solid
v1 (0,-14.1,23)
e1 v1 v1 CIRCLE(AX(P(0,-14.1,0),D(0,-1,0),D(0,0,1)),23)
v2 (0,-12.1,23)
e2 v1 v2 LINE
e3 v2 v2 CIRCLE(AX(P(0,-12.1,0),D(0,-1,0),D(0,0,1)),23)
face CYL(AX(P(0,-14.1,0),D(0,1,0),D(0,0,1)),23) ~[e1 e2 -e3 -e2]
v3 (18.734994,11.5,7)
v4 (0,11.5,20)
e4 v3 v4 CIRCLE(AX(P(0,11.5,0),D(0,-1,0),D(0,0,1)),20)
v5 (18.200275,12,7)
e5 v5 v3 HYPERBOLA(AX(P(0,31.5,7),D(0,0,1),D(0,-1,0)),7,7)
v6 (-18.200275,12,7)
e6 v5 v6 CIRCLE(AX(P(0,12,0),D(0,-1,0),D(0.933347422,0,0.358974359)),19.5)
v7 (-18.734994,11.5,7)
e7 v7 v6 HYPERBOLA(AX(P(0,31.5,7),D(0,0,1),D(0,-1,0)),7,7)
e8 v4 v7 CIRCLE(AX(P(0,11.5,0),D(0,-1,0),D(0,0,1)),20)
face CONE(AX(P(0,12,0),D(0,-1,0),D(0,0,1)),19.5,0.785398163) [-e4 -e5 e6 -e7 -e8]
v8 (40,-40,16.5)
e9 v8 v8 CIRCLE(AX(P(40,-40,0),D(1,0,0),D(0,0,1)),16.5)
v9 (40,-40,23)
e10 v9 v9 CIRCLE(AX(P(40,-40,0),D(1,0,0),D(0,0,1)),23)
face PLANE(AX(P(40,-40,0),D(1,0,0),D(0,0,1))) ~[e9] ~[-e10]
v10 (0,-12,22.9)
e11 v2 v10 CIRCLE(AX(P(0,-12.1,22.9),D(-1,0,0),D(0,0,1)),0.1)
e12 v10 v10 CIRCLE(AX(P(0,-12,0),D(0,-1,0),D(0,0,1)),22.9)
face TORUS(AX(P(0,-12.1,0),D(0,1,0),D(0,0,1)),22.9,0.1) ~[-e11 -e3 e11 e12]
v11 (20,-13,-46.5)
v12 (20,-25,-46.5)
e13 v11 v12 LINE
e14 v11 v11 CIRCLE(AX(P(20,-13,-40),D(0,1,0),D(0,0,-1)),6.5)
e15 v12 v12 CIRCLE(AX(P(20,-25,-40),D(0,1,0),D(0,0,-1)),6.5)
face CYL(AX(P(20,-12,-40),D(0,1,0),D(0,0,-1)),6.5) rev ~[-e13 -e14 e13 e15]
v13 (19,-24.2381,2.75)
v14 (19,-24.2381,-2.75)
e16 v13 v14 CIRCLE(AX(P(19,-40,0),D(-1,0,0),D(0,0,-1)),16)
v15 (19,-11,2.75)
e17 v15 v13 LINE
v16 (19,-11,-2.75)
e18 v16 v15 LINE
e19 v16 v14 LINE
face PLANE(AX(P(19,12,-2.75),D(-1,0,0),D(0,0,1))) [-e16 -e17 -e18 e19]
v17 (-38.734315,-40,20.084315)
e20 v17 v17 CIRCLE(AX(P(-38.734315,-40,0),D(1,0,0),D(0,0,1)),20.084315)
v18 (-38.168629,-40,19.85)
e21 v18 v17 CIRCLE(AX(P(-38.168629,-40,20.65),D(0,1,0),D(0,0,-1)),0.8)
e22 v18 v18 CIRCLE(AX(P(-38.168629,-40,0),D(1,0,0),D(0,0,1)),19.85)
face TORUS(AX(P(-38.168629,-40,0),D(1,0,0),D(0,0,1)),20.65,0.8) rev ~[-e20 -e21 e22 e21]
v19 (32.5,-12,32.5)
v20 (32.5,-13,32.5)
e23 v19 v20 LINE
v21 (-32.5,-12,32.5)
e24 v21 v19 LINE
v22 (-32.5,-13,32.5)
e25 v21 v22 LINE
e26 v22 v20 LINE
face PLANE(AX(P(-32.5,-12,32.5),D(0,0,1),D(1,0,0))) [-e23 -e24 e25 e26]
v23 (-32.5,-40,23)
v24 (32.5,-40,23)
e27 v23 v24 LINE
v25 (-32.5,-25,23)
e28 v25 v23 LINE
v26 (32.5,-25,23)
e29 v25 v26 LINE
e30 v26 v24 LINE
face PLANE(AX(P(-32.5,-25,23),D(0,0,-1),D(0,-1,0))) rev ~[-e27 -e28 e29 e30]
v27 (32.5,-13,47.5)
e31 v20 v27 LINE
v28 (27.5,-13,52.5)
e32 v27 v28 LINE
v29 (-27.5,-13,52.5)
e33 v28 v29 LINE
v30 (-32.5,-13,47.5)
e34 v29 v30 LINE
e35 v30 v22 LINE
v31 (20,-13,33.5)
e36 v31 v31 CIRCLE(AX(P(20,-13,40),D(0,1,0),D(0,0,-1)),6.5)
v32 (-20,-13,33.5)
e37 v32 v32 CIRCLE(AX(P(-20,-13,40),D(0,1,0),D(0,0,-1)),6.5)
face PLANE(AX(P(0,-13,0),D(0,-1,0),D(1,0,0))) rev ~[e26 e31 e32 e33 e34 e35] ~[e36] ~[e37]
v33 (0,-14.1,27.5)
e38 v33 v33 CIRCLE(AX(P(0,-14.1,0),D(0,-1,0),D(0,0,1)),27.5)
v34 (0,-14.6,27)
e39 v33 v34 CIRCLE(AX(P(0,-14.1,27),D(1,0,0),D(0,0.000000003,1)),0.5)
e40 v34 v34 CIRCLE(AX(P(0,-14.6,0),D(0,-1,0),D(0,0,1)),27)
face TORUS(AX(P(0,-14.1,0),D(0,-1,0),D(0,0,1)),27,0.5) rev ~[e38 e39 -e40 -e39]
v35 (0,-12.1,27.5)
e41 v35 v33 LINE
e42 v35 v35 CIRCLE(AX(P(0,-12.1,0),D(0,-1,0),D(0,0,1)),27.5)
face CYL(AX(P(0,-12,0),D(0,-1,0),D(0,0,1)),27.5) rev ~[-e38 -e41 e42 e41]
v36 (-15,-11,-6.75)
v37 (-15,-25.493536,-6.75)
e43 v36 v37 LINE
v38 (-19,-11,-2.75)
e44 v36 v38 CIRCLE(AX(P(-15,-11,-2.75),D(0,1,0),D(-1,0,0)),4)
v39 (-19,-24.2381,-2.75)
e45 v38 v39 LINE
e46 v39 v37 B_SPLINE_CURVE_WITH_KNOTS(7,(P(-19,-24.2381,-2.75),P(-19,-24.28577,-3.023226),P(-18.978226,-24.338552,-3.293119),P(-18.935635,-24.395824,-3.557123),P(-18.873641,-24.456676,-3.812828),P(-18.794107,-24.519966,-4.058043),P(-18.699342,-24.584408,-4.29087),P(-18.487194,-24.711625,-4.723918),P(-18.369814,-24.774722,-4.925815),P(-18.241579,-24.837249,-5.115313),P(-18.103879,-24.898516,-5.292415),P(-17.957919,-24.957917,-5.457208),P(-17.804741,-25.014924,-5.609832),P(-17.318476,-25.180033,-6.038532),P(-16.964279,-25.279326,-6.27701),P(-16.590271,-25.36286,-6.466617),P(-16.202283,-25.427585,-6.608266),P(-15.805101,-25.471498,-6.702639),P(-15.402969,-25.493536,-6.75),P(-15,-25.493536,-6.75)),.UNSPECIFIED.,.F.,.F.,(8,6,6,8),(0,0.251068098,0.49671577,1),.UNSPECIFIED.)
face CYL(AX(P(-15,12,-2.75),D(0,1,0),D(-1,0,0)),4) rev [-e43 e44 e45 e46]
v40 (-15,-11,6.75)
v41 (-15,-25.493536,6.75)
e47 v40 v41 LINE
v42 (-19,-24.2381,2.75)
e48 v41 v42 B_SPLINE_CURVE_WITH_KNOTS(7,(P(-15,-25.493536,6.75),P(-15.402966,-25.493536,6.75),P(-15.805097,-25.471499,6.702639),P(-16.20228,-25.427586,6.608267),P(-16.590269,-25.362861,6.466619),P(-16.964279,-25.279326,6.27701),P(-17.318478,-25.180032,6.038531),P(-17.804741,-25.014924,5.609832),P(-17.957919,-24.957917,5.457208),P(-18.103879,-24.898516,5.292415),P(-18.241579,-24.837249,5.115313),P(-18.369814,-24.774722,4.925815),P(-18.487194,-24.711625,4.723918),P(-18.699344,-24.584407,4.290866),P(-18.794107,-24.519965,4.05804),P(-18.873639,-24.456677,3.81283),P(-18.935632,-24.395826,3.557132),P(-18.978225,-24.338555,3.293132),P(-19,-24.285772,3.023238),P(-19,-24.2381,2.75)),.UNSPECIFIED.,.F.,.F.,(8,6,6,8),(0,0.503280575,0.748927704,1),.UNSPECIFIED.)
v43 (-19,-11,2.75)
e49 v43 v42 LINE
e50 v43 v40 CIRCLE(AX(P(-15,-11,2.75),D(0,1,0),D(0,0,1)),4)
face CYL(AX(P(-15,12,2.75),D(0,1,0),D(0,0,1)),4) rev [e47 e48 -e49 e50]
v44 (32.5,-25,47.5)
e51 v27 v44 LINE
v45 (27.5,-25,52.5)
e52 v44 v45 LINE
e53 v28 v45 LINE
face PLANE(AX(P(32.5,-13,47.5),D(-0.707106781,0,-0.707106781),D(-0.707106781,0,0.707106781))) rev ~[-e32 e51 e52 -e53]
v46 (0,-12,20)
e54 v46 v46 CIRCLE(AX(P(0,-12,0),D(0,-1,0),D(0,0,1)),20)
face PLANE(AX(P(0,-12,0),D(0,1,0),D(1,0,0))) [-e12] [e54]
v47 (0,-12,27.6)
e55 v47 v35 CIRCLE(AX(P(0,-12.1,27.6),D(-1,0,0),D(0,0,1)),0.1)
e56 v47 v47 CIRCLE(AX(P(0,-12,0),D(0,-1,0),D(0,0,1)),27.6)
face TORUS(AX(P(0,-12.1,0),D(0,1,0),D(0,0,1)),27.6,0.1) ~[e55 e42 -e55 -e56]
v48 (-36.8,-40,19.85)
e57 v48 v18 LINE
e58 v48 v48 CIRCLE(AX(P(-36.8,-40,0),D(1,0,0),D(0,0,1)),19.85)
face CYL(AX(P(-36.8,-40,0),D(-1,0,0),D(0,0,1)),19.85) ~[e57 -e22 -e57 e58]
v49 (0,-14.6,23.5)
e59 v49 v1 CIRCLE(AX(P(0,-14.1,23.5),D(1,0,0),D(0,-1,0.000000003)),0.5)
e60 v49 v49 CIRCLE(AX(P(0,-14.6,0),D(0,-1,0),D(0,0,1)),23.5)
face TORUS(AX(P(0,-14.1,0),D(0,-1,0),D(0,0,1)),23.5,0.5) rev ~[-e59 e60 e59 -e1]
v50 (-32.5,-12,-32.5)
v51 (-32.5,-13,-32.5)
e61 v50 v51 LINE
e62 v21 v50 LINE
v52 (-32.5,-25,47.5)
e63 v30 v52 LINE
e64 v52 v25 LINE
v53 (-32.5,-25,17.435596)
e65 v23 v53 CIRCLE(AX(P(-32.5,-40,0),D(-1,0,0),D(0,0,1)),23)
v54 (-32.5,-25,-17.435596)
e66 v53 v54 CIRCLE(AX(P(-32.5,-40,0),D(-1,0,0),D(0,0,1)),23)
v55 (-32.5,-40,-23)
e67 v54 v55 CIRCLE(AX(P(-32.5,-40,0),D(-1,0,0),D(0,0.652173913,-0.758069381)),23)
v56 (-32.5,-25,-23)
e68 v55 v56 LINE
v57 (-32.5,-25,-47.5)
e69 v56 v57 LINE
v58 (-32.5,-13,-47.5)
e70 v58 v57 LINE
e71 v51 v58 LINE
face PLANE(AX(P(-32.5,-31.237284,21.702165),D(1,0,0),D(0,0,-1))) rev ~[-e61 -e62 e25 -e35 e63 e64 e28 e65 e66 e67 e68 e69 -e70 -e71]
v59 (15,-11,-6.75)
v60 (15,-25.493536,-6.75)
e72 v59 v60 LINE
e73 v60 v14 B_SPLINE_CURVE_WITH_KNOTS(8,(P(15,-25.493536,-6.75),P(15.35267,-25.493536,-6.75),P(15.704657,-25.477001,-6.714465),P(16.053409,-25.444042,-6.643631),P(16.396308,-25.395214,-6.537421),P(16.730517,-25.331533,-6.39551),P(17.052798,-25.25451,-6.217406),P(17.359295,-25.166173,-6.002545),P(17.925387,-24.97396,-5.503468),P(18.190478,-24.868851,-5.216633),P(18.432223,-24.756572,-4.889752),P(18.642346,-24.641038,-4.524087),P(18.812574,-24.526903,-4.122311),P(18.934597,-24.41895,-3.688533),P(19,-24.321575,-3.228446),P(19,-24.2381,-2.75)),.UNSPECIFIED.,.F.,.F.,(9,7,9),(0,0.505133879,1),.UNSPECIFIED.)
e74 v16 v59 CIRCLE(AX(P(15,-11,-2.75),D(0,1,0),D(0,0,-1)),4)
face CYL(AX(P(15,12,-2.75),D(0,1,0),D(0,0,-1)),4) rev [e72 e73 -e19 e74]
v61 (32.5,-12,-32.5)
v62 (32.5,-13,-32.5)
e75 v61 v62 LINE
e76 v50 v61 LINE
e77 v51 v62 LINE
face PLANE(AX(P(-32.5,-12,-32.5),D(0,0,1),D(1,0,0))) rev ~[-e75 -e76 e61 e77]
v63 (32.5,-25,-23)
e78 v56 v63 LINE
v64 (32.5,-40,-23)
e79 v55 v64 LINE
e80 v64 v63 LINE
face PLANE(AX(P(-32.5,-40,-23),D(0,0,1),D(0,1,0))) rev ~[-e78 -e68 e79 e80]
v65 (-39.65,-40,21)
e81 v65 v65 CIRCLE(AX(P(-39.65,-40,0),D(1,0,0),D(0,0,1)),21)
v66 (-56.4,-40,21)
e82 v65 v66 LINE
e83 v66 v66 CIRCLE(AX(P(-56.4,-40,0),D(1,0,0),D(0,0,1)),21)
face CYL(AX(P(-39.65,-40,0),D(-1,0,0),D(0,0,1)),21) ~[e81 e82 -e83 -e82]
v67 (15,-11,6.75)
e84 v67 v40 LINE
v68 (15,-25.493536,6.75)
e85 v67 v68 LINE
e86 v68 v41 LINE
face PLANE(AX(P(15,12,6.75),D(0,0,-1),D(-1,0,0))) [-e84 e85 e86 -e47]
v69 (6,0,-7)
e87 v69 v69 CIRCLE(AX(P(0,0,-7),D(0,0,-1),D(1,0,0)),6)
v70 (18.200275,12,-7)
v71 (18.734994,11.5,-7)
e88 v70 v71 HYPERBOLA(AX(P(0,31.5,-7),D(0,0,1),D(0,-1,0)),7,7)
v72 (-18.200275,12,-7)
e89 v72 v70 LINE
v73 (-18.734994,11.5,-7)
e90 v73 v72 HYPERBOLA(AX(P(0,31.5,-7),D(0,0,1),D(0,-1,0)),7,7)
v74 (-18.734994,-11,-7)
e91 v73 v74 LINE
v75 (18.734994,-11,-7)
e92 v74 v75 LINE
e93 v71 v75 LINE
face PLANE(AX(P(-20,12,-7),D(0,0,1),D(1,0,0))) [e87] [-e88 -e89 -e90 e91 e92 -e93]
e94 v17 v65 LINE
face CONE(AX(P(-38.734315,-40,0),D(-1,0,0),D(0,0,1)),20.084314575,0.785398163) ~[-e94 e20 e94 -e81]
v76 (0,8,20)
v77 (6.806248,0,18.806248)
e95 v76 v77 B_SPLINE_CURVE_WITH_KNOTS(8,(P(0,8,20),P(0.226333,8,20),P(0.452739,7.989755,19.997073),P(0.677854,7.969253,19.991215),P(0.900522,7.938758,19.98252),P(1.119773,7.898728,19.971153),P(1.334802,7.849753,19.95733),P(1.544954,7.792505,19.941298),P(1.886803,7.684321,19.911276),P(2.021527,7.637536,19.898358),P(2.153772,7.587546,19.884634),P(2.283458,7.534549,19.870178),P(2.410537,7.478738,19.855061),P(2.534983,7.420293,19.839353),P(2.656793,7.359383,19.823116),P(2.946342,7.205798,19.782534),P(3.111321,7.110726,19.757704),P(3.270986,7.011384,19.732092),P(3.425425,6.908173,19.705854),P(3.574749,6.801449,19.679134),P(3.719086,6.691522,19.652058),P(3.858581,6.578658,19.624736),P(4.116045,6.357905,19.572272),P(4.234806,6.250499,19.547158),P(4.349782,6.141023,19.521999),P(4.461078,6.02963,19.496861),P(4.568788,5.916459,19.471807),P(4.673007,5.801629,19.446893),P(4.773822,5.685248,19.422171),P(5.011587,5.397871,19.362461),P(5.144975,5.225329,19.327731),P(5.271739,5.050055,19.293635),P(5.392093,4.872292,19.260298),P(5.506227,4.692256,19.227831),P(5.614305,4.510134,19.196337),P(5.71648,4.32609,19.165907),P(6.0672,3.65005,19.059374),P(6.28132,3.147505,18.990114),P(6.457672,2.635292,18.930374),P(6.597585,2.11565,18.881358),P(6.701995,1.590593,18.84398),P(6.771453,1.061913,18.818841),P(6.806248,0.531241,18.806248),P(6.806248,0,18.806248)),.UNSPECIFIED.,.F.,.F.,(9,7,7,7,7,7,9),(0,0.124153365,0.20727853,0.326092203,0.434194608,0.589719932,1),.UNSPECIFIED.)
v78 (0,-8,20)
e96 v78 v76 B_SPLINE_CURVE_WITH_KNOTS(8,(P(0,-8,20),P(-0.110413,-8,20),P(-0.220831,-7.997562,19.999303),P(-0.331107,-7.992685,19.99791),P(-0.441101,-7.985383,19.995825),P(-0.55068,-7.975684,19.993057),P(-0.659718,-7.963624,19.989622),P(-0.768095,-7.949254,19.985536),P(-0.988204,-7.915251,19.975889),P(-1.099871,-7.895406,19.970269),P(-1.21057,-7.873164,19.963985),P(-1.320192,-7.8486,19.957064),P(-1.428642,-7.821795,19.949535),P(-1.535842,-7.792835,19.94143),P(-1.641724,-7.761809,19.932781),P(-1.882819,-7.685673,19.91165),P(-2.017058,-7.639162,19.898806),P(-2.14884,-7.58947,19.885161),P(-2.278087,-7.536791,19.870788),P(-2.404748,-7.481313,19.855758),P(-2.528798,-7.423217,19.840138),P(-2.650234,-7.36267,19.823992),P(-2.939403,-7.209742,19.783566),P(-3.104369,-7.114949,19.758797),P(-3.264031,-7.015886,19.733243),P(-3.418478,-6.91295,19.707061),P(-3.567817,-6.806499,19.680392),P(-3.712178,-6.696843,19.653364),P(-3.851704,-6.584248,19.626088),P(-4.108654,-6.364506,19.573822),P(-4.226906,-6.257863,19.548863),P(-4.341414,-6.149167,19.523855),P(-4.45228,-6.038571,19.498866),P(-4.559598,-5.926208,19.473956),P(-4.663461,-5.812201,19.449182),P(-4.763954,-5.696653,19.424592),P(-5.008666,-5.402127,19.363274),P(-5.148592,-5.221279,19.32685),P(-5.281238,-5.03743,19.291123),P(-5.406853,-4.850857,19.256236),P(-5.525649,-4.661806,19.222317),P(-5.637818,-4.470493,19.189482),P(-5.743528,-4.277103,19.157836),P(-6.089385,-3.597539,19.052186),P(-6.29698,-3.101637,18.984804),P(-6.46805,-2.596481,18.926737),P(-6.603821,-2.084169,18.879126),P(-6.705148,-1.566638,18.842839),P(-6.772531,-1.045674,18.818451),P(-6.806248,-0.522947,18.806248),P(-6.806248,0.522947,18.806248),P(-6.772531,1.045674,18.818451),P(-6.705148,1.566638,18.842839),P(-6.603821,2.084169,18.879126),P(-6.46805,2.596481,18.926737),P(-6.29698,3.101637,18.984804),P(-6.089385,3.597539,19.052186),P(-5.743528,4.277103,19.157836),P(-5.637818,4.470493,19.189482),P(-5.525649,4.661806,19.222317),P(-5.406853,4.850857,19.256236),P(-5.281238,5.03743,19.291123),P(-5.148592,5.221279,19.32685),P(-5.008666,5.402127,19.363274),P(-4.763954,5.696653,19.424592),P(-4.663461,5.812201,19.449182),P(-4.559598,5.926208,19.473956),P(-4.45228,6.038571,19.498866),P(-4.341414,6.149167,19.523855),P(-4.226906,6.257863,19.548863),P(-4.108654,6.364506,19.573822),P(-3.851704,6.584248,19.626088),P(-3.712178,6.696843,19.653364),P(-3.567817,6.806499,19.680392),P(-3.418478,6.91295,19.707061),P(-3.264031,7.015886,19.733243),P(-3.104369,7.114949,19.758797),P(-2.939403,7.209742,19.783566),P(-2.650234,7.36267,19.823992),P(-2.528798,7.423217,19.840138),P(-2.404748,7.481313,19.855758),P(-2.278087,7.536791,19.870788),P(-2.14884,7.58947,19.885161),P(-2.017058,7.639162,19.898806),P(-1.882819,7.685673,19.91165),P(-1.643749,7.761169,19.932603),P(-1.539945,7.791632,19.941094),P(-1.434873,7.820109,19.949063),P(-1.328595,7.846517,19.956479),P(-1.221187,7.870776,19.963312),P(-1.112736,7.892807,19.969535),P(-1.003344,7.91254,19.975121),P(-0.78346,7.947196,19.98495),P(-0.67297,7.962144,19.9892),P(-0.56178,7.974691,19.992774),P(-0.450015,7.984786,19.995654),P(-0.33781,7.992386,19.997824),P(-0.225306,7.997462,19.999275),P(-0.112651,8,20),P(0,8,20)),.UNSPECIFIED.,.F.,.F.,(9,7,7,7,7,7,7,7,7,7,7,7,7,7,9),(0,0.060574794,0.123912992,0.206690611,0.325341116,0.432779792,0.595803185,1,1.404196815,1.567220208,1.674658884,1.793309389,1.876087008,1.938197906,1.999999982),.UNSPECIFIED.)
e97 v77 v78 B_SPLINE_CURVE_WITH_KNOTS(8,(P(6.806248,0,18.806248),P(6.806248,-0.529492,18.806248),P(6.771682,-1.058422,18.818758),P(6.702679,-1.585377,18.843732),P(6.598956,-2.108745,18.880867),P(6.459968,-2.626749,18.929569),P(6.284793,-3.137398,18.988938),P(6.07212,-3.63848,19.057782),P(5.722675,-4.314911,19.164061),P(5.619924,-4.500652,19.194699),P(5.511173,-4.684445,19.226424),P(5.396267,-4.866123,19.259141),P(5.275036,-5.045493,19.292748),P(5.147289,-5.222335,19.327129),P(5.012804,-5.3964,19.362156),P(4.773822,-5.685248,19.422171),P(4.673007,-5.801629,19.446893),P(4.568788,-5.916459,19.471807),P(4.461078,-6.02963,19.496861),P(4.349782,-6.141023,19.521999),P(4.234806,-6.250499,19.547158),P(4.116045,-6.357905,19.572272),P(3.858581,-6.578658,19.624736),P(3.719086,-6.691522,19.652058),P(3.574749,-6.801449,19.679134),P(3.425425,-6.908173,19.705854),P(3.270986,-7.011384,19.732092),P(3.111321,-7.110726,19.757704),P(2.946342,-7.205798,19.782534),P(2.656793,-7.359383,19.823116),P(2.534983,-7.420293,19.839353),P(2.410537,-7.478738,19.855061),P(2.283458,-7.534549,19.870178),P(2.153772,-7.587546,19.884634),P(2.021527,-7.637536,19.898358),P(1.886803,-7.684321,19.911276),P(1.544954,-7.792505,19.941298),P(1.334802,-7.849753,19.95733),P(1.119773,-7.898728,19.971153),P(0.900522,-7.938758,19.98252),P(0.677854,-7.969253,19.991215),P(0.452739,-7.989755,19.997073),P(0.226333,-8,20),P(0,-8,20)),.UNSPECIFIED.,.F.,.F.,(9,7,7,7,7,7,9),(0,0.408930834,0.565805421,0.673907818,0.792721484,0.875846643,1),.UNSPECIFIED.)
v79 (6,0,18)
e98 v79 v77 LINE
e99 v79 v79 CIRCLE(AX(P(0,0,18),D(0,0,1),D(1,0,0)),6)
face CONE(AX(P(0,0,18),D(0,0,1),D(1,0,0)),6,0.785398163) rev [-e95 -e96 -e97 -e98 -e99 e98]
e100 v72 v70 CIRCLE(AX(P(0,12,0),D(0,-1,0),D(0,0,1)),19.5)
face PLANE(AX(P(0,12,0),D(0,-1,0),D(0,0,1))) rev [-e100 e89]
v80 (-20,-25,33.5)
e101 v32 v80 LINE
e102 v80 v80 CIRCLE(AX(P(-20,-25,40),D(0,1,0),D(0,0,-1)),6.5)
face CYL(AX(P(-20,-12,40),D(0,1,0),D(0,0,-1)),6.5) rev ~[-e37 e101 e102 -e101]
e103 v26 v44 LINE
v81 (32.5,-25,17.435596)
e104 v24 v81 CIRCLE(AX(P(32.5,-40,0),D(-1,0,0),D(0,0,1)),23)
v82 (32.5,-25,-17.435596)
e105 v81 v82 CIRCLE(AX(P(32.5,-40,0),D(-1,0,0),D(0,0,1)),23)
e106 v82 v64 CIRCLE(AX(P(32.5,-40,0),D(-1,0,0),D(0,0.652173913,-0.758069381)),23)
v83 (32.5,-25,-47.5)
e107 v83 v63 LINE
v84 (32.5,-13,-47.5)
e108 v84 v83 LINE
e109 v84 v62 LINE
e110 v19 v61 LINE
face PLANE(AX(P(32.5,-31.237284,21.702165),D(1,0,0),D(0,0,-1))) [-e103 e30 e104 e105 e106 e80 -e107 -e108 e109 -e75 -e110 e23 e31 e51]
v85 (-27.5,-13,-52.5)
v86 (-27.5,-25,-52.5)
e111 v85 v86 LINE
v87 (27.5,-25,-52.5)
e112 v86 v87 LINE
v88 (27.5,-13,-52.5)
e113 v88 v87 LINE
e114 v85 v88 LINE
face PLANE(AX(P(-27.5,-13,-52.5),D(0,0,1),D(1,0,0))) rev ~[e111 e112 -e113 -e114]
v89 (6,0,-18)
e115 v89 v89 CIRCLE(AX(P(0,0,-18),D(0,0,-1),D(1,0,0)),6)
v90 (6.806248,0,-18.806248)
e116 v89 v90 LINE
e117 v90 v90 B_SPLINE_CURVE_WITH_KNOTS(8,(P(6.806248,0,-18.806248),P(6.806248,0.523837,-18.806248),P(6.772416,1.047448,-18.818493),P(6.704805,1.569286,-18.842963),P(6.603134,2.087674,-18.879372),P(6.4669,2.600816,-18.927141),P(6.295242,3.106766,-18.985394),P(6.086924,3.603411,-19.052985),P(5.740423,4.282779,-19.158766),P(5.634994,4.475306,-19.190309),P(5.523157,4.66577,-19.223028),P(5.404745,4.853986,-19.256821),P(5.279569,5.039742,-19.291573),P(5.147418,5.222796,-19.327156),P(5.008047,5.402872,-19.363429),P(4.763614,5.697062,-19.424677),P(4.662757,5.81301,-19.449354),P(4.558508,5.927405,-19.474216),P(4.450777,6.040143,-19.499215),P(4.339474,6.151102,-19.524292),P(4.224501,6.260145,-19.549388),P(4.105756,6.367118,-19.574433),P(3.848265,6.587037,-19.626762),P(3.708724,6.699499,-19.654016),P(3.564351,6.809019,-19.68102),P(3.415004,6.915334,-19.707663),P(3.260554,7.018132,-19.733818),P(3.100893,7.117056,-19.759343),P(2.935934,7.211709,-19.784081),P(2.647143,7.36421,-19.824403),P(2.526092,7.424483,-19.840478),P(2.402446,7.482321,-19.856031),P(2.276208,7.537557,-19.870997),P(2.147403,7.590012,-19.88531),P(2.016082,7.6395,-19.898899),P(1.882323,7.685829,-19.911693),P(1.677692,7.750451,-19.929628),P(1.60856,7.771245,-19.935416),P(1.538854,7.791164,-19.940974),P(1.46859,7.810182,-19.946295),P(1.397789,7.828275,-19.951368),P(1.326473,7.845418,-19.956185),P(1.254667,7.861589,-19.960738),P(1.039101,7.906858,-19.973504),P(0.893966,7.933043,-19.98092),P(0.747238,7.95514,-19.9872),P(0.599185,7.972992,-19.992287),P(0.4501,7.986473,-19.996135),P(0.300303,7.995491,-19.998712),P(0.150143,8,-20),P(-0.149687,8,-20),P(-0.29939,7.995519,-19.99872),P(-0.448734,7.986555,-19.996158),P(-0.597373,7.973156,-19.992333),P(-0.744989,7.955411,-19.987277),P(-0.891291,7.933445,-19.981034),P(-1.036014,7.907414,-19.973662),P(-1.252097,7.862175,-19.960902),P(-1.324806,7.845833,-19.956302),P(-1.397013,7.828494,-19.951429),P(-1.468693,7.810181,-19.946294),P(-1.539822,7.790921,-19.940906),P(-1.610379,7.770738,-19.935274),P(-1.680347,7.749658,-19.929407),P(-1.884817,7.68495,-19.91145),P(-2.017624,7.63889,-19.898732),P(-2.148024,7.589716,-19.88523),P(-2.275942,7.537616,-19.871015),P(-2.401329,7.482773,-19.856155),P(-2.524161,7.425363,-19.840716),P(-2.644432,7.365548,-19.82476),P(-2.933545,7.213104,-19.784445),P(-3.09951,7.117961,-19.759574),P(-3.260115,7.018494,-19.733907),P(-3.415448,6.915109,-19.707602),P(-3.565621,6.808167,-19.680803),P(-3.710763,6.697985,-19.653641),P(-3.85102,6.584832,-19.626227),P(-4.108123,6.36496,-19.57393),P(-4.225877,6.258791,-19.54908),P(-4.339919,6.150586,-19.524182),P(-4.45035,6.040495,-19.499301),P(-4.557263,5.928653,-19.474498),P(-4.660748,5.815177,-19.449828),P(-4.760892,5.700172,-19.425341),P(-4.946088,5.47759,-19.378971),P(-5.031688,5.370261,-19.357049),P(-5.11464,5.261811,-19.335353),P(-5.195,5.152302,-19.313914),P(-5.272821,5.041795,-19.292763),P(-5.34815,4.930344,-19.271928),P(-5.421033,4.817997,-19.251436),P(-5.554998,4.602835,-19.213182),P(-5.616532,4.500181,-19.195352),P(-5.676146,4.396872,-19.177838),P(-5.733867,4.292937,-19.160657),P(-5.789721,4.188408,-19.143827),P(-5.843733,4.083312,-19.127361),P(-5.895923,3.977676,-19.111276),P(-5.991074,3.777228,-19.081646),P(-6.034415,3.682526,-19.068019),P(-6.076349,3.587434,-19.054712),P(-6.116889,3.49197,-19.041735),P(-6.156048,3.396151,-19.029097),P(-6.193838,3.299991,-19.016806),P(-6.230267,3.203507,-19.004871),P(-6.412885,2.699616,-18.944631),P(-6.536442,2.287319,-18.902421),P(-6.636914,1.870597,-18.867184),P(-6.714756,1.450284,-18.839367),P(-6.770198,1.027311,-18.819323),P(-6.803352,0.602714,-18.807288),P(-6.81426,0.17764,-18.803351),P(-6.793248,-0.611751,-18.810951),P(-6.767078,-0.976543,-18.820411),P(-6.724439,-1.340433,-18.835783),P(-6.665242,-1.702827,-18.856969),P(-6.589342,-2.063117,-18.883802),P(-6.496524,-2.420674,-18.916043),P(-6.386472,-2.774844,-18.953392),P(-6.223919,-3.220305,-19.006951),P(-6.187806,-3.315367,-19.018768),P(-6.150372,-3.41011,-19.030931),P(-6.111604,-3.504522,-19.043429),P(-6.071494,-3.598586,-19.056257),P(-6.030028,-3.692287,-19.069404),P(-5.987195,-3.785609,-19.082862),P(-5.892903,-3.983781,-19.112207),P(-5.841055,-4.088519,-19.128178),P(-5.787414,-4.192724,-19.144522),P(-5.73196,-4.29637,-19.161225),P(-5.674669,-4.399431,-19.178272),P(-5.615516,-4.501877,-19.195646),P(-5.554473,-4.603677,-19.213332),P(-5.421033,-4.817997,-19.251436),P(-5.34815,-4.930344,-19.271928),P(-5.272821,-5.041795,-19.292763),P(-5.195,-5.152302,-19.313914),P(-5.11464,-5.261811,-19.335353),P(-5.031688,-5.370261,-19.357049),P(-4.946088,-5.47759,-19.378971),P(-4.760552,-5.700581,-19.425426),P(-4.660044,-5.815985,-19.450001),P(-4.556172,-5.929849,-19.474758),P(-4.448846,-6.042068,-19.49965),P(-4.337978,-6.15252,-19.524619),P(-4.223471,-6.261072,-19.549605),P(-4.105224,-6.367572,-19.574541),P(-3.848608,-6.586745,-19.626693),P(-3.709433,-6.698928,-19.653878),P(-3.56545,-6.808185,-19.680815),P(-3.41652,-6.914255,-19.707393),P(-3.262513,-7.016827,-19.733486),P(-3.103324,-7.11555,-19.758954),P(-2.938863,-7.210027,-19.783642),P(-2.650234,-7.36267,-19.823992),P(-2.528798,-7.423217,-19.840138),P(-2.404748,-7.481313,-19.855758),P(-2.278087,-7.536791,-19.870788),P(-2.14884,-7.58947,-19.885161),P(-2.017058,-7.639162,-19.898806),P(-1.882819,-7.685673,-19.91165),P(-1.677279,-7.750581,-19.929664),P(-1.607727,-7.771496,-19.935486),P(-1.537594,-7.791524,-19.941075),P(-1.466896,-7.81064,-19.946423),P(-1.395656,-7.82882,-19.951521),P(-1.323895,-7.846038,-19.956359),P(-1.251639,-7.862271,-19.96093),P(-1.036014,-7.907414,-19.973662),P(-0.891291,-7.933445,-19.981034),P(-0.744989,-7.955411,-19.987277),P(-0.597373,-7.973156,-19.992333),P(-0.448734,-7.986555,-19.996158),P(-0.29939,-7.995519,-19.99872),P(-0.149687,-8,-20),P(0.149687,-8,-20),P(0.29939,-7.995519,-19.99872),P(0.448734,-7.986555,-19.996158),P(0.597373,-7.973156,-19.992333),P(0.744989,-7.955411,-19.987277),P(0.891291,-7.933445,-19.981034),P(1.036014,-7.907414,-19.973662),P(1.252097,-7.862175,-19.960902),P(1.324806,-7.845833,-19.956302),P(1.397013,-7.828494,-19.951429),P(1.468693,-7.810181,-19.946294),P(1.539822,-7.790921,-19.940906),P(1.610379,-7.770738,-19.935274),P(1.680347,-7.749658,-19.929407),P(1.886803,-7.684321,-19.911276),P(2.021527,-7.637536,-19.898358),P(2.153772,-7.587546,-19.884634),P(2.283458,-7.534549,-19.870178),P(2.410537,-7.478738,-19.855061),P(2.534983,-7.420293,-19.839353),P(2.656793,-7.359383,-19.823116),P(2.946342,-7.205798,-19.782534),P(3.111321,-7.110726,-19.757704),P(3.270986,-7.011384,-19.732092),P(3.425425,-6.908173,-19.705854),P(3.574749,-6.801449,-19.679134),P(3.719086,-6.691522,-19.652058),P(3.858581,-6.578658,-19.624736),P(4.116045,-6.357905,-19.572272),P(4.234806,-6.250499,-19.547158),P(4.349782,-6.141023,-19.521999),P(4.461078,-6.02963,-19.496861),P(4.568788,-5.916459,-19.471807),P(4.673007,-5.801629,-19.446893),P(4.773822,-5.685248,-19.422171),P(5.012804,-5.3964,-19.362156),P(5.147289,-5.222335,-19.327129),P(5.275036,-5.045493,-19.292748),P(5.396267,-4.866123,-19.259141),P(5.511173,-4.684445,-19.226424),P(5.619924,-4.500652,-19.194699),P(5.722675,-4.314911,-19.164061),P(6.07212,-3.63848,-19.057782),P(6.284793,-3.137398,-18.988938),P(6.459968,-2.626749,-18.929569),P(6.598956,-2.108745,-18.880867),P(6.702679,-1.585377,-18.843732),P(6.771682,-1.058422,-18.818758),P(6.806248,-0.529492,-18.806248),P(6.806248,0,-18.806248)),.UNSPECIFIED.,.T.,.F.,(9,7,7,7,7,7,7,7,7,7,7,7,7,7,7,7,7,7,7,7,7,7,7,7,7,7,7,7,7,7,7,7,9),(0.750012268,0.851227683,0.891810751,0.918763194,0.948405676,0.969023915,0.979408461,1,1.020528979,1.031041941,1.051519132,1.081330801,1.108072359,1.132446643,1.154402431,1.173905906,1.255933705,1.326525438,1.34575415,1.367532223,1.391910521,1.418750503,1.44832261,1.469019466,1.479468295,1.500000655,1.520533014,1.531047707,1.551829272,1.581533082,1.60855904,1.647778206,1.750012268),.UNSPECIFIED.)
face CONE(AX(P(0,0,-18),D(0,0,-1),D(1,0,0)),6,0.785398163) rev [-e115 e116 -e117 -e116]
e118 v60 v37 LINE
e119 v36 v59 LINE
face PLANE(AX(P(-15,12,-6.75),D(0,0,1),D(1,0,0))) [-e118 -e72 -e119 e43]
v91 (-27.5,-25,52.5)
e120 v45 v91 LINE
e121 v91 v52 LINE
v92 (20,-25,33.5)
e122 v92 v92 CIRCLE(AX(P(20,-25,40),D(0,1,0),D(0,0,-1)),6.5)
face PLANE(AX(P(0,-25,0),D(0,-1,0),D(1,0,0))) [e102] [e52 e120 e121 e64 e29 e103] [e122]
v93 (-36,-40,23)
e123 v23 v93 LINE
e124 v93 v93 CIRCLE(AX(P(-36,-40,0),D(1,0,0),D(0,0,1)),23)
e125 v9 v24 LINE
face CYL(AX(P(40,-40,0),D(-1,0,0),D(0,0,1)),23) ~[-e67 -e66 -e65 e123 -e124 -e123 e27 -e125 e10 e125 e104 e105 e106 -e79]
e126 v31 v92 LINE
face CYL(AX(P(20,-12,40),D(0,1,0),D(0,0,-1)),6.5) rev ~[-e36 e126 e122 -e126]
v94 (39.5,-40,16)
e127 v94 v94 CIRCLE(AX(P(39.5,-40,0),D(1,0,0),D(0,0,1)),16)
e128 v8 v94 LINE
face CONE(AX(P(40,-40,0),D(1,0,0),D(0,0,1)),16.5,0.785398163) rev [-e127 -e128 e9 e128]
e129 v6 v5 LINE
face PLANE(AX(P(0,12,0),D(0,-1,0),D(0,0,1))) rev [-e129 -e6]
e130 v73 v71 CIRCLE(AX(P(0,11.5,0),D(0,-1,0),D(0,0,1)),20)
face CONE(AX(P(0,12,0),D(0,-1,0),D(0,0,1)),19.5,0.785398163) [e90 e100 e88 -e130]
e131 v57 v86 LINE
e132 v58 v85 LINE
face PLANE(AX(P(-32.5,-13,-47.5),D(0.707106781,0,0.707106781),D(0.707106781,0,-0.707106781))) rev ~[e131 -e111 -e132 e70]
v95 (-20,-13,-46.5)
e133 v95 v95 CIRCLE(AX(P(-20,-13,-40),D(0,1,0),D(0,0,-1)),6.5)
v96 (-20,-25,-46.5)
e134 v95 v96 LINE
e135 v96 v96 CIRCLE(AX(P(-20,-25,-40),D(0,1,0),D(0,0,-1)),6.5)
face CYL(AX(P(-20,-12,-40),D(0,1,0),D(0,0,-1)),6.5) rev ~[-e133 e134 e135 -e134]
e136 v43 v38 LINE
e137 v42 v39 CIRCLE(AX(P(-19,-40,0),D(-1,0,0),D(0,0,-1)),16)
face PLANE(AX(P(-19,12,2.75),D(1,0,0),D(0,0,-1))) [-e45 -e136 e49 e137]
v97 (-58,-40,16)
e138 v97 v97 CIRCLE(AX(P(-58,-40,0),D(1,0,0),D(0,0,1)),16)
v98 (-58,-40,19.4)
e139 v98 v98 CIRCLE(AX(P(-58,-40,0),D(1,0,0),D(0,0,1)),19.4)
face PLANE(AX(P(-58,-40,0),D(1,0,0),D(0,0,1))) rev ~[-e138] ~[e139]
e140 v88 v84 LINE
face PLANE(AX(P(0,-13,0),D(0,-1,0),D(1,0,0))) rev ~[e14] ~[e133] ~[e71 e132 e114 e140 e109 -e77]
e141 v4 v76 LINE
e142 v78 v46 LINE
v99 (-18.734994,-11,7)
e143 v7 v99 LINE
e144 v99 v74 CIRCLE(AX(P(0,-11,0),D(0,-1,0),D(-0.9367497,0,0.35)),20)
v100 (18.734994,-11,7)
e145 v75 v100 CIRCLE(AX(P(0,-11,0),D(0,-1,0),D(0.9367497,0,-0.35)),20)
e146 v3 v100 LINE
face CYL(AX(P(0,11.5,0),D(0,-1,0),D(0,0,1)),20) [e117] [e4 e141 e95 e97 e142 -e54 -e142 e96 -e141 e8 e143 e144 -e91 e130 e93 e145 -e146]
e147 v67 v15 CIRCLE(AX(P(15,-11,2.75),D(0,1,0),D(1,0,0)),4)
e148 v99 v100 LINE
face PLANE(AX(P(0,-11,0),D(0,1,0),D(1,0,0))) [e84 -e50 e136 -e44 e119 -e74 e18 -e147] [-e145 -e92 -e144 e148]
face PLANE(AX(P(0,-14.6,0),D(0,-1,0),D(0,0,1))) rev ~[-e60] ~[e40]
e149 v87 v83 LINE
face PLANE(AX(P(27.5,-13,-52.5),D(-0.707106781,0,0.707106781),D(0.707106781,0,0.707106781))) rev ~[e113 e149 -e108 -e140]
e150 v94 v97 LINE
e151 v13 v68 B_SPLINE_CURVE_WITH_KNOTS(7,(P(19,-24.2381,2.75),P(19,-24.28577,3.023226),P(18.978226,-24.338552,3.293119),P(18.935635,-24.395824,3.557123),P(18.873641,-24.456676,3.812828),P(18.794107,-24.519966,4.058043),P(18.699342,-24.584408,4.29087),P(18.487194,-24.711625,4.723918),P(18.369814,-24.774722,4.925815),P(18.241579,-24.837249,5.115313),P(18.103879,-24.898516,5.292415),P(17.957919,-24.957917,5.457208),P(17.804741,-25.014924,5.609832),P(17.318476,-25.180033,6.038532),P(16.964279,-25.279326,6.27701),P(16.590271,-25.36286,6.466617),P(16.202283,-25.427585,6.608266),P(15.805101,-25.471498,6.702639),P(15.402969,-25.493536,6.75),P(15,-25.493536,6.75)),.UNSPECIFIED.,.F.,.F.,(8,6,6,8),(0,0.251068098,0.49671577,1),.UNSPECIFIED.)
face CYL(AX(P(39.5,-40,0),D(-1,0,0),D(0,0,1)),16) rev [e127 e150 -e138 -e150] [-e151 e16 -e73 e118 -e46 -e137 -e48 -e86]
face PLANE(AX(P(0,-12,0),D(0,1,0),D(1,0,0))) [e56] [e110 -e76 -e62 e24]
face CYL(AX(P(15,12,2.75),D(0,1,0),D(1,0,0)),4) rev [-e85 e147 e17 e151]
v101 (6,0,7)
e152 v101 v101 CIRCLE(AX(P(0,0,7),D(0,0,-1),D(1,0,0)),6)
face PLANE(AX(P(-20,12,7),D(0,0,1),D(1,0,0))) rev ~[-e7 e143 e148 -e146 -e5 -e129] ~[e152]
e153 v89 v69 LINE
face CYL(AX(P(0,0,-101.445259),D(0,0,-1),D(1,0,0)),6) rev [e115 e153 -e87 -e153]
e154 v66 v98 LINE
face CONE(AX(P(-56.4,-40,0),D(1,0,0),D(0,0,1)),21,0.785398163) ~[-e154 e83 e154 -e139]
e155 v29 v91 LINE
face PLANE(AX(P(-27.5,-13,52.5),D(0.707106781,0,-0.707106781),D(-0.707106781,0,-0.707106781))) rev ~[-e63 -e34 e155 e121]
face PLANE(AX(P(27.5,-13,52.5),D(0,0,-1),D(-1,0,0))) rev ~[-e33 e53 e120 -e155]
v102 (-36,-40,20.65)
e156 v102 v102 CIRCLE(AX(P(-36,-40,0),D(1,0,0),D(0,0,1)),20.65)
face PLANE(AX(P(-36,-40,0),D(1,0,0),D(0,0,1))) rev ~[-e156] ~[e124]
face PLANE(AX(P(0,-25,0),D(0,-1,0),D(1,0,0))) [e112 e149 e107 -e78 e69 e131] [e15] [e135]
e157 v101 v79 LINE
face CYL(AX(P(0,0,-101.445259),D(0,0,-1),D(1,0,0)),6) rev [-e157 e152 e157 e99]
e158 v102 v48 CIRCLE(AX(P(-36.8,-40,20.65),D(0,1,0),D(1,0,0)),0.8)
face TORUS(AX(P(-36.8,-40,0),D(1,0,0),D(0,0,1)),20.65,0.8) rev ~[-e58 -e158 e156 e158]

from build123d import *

# Parameters (mm, degrees)
EXTRUDE_START            = -24
SKETCH_3_W               = 65
SKETCH_3_H               = 65
SKETCH_3_R               = 19.5
EXTRUDE_1_DEPTH          = 1
EXTRUDE_3_DEPTH          = 12
FILLET_1_R               = 0.1
SKETCH_6_W               = 40
SKETCH_6_H               = 14
CUT_EXTRUDE_1_DEPTH      = 23
CUT_EXTRUDE_2_REACH      = 110.376
CUT_EXTRUDE_2_END_RADIUS = 16
CUT_EXTRUDE_3_DEPTH      = 101.445258844
CUT_EXTRUDE_3_DEPTH_BACK = 101.445258844
SKETCH_9_R               = 6
SKETCH_10_R              = 6.5
CUT_EXTRUDE_4_DEPTH      = 94.387633131
EXTRUDE_START_2          = -65
EXTRUDE_4_DEPTH          = 65
SKETCH_12_R              = 6
CUT_EXTRUDE_5_DEPTH      = 2
CUT_EXTRUDE_5_DRAFT      = -45
MIRROR_1_COPY_1_SKETCH_R = 6
MIRROR_1_COPY_1_DEPTH    = 2
MIRROR_1_COPY_1_DRAFT    = -45


with BuildPart() as part:
    # Эскиз1 → Повернуть1 (revolve)
    with BuildSketch(Plane.XY, mode=Mode.PRIVATE) as revolve_1_sk:
        with BuildLine():
            Line((-36.8, -20.15), (-38.16862915, -20.15))
            ThreePointArc((-38.16862915, -20.15), (-38.474775896, -20.089103626), (-38.734314575, -19.915685425))
            Line((-38.734314575, -19.915685425), (-39.65, -19))
            Line((-39.65, -19), (-56.4, -19))
            Line((-56.4, -19), (-58, -20.6))
            Line((-58, -20.6), (-58, -24))
            Line((-58, -24), (39.5, -24))
            Line((39.5, -24), (40, -23.5))
            Line((40, -23.5), (40, -17))
            Line((40, -17), (-36, -17))
            Line((-36, -17), (-36, -19.35))
            ThreePointArc((-36, -19.35), (-36.234314575, -19.915685425), (-36.8, -20.15))
        make_face()
        Polygon((-58, -40), (40, -40), (40, -23.5), (39.5, -24), (-58, -24), align=None)
    revolve(revolve_1_sk.sketch.rotate(Axis((-81.569048794, -40, 0), (1, 0, 0)), 90), axis=Axis((-81.569048794, -40, 0), (1, 0, 0)))

    # Эскиз2 → Повернуть2 (revolve)
    with BuildSketch(Plane.XY, mode=Mode.PRIVATE) as revolve_2_sk:
        Polygon((0, 12), (-19.5, 12), (-20, 11.5), (-20, -40), (0, -40), align=None)
    revolve(revolve_2_sk.sketch.rotate(Axis((0, 30.113226236, 0), (0, -1, 0)), 270), axis=Axis((0, 30.113226236, 0), (0, -1, 0)))

    # Эскиз3 → Бобышка-Вытянуть1 (add)
    with BuildSketch(Plane(origin=(0, 12, 0), x_dir=(1, 0, 0), z_dir=(0, 1, 0)).offset(EXTRUDE_START)):
        Rectangle(SKETCH_3_W, SKETCH_3_H)
        Circle(SKETCH_3_R, mode=Mode.SUBTRACT)
    extrude(amount=-EXTRUDE_1_DEPTH)

    # Эскиз4 → Бобышка-Вытянуть3 (add)
    with BuildSketch(Plane.XZ.offset(13)):
        Polygon((-32.5, -47.5), (-27.5, -52.5), (27.5, -52.5), (32.5, -47.5), (32.5, 47.5), (27.5, 52.5), (-27.5, 52.5), (-32.5, 47.5), align=None)
    extrude(amount=EXTRUDE_3_DEPTH)

    # Эскиз5 → Вырез-Повернуть1 (revolve, cut)
    with BuildSketch(Plane.XY, mode=Mode.PRIVATE) as cut_revolve_1_sk:
        with BuildLine():
            Line((-23, -12), (-27.5, -12))
            Line((-27.5, -12), (-27.5, -14.1))
            ThreePointArc((-27.5, -14.1), (-27.353553391, -14.453553391), (-27, -14.6))
            Line((-27, -14.6), (-23.5, -14.6))
            ThreePointArc((-23.5, -14.6), (-23.146446609, -14.453553391), (-23, -14.1))
            Line((-23, -14.1), (-23, -12))
        make_face()
    revolve(cut_revolve_1_sk.sketch.rotate(Axis((0, 0, 0), (0, -1, 0)), 270), axis=Axis((0, 0, 0), (0, -1, 0)), mode=Mode.SUBTRACT)

    # Скругление1
    fillet_1_edges = [part.edges().sort_by_distance(p)[0] for p in [
        (0, -12, -23),
        (0, -12, -27.5),
    ]]
    fillet(fillet_1_edges, radius=FILLET_1_R)

    # Эскиз6 → Вырез-Вытянуть1 (cut)
    with BuildSketch(Plane(origin=(0, 12, 0), x_dir=(1, 0, 0), z_dir=(0, 1, 0))):
        Rectangle(SKETCH_6_W, SKETCH_6_H)
    extrude(amount=-CUT_EXTRUDE_1_DEPTH, mode=Mode.SUBTRACT)

    # Эскиз1<3> → Вырез-Повернуть2 (revolve, cut)
    with BuildSketch(Plane.XY, mode=Mode.PRIVATE) as cut_revolve_2_sk:
        Polygon((-58, -40), (40, -40), (40, -23.5), (39.5, -24), (-58, -24), align=None)
    revolve(cut_revolve_2_sk.sketch.rotate(Axis((-81.569048794, -40, 0), (1, 0, 0)), 90), axis=Axis((-81.569048794, -40, 0), (1, 0, 0)), mode=Mode.SUBTRACT)

    # Вырез-Вытянуть2: up to this cylinder (the profile starts outside it)
    cut_extrude_2_end = Plane(origin=(0, -40, 0), z_dir=(-1, 0, 0)) * Cylinder(CUT_EXTRUDE_2_END_RADIUS, 253.752, mode=Mode.PRIVATE)
    # Эскиз8 → Вырез-Вытянуть2 (cut, up to the surface)
    with BuildSketch(Plane(origin=(0, 12, 0), x_dir=(1, 0, 0), z_dir=(0, 1, 0)), mode=Mode.PRIVATE) as cut_extrude_2_sk1:
        with BuildLine():
            Line((-15, 6.75), (15, 6.75))
            ThreePointArc((15, 6.75), (17.828427125, 5.578427125), (19, 2.75))
            Line((19, 2.75), (19, -2.75))
            ThreePointArc((19, -2.75), (17.828427125, -5.578427125), (15, -6.75))
            Line((15, -6.75), (-15, -6.75))
            ThreePointArc((-15, -6.75), (-17.828427125, -5.578427125), (-19, -2.75))
            Line((-19, -2.75), (-19, 2.75))
            ThreePointArc((-19, 2.75), (-17.828427125, 5.578427125), (-15, 6.75))
        make_face()
    cut_extrude_2_tool1 = extrude(cut_extrude_2_sk1.sketch, amount=-CUT_EXTRUDE_2_REACH, mode=Mode.PRIVATE) - cut_extrude_2_end
    add(cut_extrude_2_tool1.solids().sort_by_distance((0, 12, 0))[0], mode=Mode.SUBTRACT)

    # Эскиз9 → Вырез-Вытянуть3 (cut, two sides: drawn at the far end of the back side and taken through both)
    with BuildSketch(Plane.XY.offset(-CUT_EXTRUDE_3_DEPTH_BACK)):
        Circle(SKETCH_9_R)
    extrude(amount=CUT_EXTRUDE_3_DEPTH + CUT_EXTRUDE_3_DEPTH_BACK, mode=Mode.SUBTRACT)

    # Эскиз10 → Вырез-Вытянуть4 (cut, through all)
    with BuildSketch(Plane(origin=(0, -12, 0), x_dir=(1, 0, 0), z_dir=(0, 1, 0))):
        with Locations(Location((-20, 40, 0), (0, 0, 90))):
            Circle(SKETCH_10_R)
        with Locations(Location((20, 40, 0), (0, 0, 90))):
            Circle(SKETCH_10_R)
        with Locations(Location((20, -40, 0), (0, 0, 90))):
            Circle(SKETCH_10_R)
        with Locations(Location((-20, -40, 0), (0, 0, 90))):
            Circle(SKETCH_10_R)
    extrude(amount=-CUT_EXTRUDE_4_DEPTH, mode=Mode.SUBTRACT)

    # Эскиз11 → Бобышка-Вытянуть4 (add)
    with BuildSketch(Plane(origin=(32.5, 0, 0), x_dir=(0, 0, -1), z_dir=(1, 0, 0)).offset(EXTRUDE_START_2)):
        with BuildLine():
            Line((-17.435595774, -25), (-23, -25))
            Line((-23, -25), (-23, -40))
            ThreePointArc((-23, -40), (-21.564075482, -32.000584484), (-17.435595774, -25))
        make_face()
        with BuildLine():
            Line((23, -25), (17.435595774, -25))
            ThreePointArc((17.435595774, -25), (21.564075482, -32.000584484), (23, -40))
            Line((23, -40), (23, -25))
        make_face()
    extrude(amount=EXTRUDE_4_DEPTH)


with BuildPart() as cut_extrude_5_tool:
    # Эскиз12 → Вырез-Вытянуть5 (with draft: the straight prism first)
    with BuildSketch(Plane.XY.offset(18)):
        Circle(SKETCH_12_R)
    extrude(amount=CUT_EXTRUDE_5_DEPTH)
    # Вырез-Вытянуть5: the draft: its side faces are tilted about the plane it starts from
    cut_extrude_5_sides = [cut_extrude_5_tool.faces().sort_by_distance(p)[0] for p in [
        (-6, 0, 19),
    ]]
    draft(cut_extrude_5_sides, Plane.XY.offset(18), CUT_EXTRUDE_5_DRAFT)


with BuildPart() as part_1:
    add(part.part)

    # Вырез-Вытянуть5: cut by cut_extrude_5_tool
    add(cut_extrude_5_tool.part, mode=Mode.SUBTRACT)


with BuildPart() as mirror_1_copy_1_tool:
    # Зеркальное отражение1 copy 1 sketch → Зеркальное отражение1 copy 1 (with draft: the straight prism first)
    with BuildSketch(Plane(origin=(0, 0, -18), x_dir=(1, 0, 0), z_dir=(0, 0, -1))):
        Circle(MIRROR_1_COPY_1_SKETCH_R)
    extrude(amount=MIRROR_1_COPY_1_DEPTH)
    # Зеркальное отражение1 copy 1: the draft: its side faces are tilted about the plane it starts from
    mirror_1_copy_1_sides = [mirror_1_copy_1_tool.faces().sort_by_distance(p)[0] for p in [
        (-6, 0, -19),
    ]]
    draft(mirror_1_copy_1_sides, Plane(origin=(0, 0, -18), x_dir=(1, 0, 0), z_dir=(0, 0, -1)), MIRROR_1_COPY_1_DRAFT)


with BuildPart() as part_2:
    add(part_1.part)

    # Зеркальное отражение1 copy 1: cut by mirror_1_copy_1_tool
    add(mirror_1_copy_1_tool.part, mode=Mode.SUBTRACT)


solid = part_2.part
